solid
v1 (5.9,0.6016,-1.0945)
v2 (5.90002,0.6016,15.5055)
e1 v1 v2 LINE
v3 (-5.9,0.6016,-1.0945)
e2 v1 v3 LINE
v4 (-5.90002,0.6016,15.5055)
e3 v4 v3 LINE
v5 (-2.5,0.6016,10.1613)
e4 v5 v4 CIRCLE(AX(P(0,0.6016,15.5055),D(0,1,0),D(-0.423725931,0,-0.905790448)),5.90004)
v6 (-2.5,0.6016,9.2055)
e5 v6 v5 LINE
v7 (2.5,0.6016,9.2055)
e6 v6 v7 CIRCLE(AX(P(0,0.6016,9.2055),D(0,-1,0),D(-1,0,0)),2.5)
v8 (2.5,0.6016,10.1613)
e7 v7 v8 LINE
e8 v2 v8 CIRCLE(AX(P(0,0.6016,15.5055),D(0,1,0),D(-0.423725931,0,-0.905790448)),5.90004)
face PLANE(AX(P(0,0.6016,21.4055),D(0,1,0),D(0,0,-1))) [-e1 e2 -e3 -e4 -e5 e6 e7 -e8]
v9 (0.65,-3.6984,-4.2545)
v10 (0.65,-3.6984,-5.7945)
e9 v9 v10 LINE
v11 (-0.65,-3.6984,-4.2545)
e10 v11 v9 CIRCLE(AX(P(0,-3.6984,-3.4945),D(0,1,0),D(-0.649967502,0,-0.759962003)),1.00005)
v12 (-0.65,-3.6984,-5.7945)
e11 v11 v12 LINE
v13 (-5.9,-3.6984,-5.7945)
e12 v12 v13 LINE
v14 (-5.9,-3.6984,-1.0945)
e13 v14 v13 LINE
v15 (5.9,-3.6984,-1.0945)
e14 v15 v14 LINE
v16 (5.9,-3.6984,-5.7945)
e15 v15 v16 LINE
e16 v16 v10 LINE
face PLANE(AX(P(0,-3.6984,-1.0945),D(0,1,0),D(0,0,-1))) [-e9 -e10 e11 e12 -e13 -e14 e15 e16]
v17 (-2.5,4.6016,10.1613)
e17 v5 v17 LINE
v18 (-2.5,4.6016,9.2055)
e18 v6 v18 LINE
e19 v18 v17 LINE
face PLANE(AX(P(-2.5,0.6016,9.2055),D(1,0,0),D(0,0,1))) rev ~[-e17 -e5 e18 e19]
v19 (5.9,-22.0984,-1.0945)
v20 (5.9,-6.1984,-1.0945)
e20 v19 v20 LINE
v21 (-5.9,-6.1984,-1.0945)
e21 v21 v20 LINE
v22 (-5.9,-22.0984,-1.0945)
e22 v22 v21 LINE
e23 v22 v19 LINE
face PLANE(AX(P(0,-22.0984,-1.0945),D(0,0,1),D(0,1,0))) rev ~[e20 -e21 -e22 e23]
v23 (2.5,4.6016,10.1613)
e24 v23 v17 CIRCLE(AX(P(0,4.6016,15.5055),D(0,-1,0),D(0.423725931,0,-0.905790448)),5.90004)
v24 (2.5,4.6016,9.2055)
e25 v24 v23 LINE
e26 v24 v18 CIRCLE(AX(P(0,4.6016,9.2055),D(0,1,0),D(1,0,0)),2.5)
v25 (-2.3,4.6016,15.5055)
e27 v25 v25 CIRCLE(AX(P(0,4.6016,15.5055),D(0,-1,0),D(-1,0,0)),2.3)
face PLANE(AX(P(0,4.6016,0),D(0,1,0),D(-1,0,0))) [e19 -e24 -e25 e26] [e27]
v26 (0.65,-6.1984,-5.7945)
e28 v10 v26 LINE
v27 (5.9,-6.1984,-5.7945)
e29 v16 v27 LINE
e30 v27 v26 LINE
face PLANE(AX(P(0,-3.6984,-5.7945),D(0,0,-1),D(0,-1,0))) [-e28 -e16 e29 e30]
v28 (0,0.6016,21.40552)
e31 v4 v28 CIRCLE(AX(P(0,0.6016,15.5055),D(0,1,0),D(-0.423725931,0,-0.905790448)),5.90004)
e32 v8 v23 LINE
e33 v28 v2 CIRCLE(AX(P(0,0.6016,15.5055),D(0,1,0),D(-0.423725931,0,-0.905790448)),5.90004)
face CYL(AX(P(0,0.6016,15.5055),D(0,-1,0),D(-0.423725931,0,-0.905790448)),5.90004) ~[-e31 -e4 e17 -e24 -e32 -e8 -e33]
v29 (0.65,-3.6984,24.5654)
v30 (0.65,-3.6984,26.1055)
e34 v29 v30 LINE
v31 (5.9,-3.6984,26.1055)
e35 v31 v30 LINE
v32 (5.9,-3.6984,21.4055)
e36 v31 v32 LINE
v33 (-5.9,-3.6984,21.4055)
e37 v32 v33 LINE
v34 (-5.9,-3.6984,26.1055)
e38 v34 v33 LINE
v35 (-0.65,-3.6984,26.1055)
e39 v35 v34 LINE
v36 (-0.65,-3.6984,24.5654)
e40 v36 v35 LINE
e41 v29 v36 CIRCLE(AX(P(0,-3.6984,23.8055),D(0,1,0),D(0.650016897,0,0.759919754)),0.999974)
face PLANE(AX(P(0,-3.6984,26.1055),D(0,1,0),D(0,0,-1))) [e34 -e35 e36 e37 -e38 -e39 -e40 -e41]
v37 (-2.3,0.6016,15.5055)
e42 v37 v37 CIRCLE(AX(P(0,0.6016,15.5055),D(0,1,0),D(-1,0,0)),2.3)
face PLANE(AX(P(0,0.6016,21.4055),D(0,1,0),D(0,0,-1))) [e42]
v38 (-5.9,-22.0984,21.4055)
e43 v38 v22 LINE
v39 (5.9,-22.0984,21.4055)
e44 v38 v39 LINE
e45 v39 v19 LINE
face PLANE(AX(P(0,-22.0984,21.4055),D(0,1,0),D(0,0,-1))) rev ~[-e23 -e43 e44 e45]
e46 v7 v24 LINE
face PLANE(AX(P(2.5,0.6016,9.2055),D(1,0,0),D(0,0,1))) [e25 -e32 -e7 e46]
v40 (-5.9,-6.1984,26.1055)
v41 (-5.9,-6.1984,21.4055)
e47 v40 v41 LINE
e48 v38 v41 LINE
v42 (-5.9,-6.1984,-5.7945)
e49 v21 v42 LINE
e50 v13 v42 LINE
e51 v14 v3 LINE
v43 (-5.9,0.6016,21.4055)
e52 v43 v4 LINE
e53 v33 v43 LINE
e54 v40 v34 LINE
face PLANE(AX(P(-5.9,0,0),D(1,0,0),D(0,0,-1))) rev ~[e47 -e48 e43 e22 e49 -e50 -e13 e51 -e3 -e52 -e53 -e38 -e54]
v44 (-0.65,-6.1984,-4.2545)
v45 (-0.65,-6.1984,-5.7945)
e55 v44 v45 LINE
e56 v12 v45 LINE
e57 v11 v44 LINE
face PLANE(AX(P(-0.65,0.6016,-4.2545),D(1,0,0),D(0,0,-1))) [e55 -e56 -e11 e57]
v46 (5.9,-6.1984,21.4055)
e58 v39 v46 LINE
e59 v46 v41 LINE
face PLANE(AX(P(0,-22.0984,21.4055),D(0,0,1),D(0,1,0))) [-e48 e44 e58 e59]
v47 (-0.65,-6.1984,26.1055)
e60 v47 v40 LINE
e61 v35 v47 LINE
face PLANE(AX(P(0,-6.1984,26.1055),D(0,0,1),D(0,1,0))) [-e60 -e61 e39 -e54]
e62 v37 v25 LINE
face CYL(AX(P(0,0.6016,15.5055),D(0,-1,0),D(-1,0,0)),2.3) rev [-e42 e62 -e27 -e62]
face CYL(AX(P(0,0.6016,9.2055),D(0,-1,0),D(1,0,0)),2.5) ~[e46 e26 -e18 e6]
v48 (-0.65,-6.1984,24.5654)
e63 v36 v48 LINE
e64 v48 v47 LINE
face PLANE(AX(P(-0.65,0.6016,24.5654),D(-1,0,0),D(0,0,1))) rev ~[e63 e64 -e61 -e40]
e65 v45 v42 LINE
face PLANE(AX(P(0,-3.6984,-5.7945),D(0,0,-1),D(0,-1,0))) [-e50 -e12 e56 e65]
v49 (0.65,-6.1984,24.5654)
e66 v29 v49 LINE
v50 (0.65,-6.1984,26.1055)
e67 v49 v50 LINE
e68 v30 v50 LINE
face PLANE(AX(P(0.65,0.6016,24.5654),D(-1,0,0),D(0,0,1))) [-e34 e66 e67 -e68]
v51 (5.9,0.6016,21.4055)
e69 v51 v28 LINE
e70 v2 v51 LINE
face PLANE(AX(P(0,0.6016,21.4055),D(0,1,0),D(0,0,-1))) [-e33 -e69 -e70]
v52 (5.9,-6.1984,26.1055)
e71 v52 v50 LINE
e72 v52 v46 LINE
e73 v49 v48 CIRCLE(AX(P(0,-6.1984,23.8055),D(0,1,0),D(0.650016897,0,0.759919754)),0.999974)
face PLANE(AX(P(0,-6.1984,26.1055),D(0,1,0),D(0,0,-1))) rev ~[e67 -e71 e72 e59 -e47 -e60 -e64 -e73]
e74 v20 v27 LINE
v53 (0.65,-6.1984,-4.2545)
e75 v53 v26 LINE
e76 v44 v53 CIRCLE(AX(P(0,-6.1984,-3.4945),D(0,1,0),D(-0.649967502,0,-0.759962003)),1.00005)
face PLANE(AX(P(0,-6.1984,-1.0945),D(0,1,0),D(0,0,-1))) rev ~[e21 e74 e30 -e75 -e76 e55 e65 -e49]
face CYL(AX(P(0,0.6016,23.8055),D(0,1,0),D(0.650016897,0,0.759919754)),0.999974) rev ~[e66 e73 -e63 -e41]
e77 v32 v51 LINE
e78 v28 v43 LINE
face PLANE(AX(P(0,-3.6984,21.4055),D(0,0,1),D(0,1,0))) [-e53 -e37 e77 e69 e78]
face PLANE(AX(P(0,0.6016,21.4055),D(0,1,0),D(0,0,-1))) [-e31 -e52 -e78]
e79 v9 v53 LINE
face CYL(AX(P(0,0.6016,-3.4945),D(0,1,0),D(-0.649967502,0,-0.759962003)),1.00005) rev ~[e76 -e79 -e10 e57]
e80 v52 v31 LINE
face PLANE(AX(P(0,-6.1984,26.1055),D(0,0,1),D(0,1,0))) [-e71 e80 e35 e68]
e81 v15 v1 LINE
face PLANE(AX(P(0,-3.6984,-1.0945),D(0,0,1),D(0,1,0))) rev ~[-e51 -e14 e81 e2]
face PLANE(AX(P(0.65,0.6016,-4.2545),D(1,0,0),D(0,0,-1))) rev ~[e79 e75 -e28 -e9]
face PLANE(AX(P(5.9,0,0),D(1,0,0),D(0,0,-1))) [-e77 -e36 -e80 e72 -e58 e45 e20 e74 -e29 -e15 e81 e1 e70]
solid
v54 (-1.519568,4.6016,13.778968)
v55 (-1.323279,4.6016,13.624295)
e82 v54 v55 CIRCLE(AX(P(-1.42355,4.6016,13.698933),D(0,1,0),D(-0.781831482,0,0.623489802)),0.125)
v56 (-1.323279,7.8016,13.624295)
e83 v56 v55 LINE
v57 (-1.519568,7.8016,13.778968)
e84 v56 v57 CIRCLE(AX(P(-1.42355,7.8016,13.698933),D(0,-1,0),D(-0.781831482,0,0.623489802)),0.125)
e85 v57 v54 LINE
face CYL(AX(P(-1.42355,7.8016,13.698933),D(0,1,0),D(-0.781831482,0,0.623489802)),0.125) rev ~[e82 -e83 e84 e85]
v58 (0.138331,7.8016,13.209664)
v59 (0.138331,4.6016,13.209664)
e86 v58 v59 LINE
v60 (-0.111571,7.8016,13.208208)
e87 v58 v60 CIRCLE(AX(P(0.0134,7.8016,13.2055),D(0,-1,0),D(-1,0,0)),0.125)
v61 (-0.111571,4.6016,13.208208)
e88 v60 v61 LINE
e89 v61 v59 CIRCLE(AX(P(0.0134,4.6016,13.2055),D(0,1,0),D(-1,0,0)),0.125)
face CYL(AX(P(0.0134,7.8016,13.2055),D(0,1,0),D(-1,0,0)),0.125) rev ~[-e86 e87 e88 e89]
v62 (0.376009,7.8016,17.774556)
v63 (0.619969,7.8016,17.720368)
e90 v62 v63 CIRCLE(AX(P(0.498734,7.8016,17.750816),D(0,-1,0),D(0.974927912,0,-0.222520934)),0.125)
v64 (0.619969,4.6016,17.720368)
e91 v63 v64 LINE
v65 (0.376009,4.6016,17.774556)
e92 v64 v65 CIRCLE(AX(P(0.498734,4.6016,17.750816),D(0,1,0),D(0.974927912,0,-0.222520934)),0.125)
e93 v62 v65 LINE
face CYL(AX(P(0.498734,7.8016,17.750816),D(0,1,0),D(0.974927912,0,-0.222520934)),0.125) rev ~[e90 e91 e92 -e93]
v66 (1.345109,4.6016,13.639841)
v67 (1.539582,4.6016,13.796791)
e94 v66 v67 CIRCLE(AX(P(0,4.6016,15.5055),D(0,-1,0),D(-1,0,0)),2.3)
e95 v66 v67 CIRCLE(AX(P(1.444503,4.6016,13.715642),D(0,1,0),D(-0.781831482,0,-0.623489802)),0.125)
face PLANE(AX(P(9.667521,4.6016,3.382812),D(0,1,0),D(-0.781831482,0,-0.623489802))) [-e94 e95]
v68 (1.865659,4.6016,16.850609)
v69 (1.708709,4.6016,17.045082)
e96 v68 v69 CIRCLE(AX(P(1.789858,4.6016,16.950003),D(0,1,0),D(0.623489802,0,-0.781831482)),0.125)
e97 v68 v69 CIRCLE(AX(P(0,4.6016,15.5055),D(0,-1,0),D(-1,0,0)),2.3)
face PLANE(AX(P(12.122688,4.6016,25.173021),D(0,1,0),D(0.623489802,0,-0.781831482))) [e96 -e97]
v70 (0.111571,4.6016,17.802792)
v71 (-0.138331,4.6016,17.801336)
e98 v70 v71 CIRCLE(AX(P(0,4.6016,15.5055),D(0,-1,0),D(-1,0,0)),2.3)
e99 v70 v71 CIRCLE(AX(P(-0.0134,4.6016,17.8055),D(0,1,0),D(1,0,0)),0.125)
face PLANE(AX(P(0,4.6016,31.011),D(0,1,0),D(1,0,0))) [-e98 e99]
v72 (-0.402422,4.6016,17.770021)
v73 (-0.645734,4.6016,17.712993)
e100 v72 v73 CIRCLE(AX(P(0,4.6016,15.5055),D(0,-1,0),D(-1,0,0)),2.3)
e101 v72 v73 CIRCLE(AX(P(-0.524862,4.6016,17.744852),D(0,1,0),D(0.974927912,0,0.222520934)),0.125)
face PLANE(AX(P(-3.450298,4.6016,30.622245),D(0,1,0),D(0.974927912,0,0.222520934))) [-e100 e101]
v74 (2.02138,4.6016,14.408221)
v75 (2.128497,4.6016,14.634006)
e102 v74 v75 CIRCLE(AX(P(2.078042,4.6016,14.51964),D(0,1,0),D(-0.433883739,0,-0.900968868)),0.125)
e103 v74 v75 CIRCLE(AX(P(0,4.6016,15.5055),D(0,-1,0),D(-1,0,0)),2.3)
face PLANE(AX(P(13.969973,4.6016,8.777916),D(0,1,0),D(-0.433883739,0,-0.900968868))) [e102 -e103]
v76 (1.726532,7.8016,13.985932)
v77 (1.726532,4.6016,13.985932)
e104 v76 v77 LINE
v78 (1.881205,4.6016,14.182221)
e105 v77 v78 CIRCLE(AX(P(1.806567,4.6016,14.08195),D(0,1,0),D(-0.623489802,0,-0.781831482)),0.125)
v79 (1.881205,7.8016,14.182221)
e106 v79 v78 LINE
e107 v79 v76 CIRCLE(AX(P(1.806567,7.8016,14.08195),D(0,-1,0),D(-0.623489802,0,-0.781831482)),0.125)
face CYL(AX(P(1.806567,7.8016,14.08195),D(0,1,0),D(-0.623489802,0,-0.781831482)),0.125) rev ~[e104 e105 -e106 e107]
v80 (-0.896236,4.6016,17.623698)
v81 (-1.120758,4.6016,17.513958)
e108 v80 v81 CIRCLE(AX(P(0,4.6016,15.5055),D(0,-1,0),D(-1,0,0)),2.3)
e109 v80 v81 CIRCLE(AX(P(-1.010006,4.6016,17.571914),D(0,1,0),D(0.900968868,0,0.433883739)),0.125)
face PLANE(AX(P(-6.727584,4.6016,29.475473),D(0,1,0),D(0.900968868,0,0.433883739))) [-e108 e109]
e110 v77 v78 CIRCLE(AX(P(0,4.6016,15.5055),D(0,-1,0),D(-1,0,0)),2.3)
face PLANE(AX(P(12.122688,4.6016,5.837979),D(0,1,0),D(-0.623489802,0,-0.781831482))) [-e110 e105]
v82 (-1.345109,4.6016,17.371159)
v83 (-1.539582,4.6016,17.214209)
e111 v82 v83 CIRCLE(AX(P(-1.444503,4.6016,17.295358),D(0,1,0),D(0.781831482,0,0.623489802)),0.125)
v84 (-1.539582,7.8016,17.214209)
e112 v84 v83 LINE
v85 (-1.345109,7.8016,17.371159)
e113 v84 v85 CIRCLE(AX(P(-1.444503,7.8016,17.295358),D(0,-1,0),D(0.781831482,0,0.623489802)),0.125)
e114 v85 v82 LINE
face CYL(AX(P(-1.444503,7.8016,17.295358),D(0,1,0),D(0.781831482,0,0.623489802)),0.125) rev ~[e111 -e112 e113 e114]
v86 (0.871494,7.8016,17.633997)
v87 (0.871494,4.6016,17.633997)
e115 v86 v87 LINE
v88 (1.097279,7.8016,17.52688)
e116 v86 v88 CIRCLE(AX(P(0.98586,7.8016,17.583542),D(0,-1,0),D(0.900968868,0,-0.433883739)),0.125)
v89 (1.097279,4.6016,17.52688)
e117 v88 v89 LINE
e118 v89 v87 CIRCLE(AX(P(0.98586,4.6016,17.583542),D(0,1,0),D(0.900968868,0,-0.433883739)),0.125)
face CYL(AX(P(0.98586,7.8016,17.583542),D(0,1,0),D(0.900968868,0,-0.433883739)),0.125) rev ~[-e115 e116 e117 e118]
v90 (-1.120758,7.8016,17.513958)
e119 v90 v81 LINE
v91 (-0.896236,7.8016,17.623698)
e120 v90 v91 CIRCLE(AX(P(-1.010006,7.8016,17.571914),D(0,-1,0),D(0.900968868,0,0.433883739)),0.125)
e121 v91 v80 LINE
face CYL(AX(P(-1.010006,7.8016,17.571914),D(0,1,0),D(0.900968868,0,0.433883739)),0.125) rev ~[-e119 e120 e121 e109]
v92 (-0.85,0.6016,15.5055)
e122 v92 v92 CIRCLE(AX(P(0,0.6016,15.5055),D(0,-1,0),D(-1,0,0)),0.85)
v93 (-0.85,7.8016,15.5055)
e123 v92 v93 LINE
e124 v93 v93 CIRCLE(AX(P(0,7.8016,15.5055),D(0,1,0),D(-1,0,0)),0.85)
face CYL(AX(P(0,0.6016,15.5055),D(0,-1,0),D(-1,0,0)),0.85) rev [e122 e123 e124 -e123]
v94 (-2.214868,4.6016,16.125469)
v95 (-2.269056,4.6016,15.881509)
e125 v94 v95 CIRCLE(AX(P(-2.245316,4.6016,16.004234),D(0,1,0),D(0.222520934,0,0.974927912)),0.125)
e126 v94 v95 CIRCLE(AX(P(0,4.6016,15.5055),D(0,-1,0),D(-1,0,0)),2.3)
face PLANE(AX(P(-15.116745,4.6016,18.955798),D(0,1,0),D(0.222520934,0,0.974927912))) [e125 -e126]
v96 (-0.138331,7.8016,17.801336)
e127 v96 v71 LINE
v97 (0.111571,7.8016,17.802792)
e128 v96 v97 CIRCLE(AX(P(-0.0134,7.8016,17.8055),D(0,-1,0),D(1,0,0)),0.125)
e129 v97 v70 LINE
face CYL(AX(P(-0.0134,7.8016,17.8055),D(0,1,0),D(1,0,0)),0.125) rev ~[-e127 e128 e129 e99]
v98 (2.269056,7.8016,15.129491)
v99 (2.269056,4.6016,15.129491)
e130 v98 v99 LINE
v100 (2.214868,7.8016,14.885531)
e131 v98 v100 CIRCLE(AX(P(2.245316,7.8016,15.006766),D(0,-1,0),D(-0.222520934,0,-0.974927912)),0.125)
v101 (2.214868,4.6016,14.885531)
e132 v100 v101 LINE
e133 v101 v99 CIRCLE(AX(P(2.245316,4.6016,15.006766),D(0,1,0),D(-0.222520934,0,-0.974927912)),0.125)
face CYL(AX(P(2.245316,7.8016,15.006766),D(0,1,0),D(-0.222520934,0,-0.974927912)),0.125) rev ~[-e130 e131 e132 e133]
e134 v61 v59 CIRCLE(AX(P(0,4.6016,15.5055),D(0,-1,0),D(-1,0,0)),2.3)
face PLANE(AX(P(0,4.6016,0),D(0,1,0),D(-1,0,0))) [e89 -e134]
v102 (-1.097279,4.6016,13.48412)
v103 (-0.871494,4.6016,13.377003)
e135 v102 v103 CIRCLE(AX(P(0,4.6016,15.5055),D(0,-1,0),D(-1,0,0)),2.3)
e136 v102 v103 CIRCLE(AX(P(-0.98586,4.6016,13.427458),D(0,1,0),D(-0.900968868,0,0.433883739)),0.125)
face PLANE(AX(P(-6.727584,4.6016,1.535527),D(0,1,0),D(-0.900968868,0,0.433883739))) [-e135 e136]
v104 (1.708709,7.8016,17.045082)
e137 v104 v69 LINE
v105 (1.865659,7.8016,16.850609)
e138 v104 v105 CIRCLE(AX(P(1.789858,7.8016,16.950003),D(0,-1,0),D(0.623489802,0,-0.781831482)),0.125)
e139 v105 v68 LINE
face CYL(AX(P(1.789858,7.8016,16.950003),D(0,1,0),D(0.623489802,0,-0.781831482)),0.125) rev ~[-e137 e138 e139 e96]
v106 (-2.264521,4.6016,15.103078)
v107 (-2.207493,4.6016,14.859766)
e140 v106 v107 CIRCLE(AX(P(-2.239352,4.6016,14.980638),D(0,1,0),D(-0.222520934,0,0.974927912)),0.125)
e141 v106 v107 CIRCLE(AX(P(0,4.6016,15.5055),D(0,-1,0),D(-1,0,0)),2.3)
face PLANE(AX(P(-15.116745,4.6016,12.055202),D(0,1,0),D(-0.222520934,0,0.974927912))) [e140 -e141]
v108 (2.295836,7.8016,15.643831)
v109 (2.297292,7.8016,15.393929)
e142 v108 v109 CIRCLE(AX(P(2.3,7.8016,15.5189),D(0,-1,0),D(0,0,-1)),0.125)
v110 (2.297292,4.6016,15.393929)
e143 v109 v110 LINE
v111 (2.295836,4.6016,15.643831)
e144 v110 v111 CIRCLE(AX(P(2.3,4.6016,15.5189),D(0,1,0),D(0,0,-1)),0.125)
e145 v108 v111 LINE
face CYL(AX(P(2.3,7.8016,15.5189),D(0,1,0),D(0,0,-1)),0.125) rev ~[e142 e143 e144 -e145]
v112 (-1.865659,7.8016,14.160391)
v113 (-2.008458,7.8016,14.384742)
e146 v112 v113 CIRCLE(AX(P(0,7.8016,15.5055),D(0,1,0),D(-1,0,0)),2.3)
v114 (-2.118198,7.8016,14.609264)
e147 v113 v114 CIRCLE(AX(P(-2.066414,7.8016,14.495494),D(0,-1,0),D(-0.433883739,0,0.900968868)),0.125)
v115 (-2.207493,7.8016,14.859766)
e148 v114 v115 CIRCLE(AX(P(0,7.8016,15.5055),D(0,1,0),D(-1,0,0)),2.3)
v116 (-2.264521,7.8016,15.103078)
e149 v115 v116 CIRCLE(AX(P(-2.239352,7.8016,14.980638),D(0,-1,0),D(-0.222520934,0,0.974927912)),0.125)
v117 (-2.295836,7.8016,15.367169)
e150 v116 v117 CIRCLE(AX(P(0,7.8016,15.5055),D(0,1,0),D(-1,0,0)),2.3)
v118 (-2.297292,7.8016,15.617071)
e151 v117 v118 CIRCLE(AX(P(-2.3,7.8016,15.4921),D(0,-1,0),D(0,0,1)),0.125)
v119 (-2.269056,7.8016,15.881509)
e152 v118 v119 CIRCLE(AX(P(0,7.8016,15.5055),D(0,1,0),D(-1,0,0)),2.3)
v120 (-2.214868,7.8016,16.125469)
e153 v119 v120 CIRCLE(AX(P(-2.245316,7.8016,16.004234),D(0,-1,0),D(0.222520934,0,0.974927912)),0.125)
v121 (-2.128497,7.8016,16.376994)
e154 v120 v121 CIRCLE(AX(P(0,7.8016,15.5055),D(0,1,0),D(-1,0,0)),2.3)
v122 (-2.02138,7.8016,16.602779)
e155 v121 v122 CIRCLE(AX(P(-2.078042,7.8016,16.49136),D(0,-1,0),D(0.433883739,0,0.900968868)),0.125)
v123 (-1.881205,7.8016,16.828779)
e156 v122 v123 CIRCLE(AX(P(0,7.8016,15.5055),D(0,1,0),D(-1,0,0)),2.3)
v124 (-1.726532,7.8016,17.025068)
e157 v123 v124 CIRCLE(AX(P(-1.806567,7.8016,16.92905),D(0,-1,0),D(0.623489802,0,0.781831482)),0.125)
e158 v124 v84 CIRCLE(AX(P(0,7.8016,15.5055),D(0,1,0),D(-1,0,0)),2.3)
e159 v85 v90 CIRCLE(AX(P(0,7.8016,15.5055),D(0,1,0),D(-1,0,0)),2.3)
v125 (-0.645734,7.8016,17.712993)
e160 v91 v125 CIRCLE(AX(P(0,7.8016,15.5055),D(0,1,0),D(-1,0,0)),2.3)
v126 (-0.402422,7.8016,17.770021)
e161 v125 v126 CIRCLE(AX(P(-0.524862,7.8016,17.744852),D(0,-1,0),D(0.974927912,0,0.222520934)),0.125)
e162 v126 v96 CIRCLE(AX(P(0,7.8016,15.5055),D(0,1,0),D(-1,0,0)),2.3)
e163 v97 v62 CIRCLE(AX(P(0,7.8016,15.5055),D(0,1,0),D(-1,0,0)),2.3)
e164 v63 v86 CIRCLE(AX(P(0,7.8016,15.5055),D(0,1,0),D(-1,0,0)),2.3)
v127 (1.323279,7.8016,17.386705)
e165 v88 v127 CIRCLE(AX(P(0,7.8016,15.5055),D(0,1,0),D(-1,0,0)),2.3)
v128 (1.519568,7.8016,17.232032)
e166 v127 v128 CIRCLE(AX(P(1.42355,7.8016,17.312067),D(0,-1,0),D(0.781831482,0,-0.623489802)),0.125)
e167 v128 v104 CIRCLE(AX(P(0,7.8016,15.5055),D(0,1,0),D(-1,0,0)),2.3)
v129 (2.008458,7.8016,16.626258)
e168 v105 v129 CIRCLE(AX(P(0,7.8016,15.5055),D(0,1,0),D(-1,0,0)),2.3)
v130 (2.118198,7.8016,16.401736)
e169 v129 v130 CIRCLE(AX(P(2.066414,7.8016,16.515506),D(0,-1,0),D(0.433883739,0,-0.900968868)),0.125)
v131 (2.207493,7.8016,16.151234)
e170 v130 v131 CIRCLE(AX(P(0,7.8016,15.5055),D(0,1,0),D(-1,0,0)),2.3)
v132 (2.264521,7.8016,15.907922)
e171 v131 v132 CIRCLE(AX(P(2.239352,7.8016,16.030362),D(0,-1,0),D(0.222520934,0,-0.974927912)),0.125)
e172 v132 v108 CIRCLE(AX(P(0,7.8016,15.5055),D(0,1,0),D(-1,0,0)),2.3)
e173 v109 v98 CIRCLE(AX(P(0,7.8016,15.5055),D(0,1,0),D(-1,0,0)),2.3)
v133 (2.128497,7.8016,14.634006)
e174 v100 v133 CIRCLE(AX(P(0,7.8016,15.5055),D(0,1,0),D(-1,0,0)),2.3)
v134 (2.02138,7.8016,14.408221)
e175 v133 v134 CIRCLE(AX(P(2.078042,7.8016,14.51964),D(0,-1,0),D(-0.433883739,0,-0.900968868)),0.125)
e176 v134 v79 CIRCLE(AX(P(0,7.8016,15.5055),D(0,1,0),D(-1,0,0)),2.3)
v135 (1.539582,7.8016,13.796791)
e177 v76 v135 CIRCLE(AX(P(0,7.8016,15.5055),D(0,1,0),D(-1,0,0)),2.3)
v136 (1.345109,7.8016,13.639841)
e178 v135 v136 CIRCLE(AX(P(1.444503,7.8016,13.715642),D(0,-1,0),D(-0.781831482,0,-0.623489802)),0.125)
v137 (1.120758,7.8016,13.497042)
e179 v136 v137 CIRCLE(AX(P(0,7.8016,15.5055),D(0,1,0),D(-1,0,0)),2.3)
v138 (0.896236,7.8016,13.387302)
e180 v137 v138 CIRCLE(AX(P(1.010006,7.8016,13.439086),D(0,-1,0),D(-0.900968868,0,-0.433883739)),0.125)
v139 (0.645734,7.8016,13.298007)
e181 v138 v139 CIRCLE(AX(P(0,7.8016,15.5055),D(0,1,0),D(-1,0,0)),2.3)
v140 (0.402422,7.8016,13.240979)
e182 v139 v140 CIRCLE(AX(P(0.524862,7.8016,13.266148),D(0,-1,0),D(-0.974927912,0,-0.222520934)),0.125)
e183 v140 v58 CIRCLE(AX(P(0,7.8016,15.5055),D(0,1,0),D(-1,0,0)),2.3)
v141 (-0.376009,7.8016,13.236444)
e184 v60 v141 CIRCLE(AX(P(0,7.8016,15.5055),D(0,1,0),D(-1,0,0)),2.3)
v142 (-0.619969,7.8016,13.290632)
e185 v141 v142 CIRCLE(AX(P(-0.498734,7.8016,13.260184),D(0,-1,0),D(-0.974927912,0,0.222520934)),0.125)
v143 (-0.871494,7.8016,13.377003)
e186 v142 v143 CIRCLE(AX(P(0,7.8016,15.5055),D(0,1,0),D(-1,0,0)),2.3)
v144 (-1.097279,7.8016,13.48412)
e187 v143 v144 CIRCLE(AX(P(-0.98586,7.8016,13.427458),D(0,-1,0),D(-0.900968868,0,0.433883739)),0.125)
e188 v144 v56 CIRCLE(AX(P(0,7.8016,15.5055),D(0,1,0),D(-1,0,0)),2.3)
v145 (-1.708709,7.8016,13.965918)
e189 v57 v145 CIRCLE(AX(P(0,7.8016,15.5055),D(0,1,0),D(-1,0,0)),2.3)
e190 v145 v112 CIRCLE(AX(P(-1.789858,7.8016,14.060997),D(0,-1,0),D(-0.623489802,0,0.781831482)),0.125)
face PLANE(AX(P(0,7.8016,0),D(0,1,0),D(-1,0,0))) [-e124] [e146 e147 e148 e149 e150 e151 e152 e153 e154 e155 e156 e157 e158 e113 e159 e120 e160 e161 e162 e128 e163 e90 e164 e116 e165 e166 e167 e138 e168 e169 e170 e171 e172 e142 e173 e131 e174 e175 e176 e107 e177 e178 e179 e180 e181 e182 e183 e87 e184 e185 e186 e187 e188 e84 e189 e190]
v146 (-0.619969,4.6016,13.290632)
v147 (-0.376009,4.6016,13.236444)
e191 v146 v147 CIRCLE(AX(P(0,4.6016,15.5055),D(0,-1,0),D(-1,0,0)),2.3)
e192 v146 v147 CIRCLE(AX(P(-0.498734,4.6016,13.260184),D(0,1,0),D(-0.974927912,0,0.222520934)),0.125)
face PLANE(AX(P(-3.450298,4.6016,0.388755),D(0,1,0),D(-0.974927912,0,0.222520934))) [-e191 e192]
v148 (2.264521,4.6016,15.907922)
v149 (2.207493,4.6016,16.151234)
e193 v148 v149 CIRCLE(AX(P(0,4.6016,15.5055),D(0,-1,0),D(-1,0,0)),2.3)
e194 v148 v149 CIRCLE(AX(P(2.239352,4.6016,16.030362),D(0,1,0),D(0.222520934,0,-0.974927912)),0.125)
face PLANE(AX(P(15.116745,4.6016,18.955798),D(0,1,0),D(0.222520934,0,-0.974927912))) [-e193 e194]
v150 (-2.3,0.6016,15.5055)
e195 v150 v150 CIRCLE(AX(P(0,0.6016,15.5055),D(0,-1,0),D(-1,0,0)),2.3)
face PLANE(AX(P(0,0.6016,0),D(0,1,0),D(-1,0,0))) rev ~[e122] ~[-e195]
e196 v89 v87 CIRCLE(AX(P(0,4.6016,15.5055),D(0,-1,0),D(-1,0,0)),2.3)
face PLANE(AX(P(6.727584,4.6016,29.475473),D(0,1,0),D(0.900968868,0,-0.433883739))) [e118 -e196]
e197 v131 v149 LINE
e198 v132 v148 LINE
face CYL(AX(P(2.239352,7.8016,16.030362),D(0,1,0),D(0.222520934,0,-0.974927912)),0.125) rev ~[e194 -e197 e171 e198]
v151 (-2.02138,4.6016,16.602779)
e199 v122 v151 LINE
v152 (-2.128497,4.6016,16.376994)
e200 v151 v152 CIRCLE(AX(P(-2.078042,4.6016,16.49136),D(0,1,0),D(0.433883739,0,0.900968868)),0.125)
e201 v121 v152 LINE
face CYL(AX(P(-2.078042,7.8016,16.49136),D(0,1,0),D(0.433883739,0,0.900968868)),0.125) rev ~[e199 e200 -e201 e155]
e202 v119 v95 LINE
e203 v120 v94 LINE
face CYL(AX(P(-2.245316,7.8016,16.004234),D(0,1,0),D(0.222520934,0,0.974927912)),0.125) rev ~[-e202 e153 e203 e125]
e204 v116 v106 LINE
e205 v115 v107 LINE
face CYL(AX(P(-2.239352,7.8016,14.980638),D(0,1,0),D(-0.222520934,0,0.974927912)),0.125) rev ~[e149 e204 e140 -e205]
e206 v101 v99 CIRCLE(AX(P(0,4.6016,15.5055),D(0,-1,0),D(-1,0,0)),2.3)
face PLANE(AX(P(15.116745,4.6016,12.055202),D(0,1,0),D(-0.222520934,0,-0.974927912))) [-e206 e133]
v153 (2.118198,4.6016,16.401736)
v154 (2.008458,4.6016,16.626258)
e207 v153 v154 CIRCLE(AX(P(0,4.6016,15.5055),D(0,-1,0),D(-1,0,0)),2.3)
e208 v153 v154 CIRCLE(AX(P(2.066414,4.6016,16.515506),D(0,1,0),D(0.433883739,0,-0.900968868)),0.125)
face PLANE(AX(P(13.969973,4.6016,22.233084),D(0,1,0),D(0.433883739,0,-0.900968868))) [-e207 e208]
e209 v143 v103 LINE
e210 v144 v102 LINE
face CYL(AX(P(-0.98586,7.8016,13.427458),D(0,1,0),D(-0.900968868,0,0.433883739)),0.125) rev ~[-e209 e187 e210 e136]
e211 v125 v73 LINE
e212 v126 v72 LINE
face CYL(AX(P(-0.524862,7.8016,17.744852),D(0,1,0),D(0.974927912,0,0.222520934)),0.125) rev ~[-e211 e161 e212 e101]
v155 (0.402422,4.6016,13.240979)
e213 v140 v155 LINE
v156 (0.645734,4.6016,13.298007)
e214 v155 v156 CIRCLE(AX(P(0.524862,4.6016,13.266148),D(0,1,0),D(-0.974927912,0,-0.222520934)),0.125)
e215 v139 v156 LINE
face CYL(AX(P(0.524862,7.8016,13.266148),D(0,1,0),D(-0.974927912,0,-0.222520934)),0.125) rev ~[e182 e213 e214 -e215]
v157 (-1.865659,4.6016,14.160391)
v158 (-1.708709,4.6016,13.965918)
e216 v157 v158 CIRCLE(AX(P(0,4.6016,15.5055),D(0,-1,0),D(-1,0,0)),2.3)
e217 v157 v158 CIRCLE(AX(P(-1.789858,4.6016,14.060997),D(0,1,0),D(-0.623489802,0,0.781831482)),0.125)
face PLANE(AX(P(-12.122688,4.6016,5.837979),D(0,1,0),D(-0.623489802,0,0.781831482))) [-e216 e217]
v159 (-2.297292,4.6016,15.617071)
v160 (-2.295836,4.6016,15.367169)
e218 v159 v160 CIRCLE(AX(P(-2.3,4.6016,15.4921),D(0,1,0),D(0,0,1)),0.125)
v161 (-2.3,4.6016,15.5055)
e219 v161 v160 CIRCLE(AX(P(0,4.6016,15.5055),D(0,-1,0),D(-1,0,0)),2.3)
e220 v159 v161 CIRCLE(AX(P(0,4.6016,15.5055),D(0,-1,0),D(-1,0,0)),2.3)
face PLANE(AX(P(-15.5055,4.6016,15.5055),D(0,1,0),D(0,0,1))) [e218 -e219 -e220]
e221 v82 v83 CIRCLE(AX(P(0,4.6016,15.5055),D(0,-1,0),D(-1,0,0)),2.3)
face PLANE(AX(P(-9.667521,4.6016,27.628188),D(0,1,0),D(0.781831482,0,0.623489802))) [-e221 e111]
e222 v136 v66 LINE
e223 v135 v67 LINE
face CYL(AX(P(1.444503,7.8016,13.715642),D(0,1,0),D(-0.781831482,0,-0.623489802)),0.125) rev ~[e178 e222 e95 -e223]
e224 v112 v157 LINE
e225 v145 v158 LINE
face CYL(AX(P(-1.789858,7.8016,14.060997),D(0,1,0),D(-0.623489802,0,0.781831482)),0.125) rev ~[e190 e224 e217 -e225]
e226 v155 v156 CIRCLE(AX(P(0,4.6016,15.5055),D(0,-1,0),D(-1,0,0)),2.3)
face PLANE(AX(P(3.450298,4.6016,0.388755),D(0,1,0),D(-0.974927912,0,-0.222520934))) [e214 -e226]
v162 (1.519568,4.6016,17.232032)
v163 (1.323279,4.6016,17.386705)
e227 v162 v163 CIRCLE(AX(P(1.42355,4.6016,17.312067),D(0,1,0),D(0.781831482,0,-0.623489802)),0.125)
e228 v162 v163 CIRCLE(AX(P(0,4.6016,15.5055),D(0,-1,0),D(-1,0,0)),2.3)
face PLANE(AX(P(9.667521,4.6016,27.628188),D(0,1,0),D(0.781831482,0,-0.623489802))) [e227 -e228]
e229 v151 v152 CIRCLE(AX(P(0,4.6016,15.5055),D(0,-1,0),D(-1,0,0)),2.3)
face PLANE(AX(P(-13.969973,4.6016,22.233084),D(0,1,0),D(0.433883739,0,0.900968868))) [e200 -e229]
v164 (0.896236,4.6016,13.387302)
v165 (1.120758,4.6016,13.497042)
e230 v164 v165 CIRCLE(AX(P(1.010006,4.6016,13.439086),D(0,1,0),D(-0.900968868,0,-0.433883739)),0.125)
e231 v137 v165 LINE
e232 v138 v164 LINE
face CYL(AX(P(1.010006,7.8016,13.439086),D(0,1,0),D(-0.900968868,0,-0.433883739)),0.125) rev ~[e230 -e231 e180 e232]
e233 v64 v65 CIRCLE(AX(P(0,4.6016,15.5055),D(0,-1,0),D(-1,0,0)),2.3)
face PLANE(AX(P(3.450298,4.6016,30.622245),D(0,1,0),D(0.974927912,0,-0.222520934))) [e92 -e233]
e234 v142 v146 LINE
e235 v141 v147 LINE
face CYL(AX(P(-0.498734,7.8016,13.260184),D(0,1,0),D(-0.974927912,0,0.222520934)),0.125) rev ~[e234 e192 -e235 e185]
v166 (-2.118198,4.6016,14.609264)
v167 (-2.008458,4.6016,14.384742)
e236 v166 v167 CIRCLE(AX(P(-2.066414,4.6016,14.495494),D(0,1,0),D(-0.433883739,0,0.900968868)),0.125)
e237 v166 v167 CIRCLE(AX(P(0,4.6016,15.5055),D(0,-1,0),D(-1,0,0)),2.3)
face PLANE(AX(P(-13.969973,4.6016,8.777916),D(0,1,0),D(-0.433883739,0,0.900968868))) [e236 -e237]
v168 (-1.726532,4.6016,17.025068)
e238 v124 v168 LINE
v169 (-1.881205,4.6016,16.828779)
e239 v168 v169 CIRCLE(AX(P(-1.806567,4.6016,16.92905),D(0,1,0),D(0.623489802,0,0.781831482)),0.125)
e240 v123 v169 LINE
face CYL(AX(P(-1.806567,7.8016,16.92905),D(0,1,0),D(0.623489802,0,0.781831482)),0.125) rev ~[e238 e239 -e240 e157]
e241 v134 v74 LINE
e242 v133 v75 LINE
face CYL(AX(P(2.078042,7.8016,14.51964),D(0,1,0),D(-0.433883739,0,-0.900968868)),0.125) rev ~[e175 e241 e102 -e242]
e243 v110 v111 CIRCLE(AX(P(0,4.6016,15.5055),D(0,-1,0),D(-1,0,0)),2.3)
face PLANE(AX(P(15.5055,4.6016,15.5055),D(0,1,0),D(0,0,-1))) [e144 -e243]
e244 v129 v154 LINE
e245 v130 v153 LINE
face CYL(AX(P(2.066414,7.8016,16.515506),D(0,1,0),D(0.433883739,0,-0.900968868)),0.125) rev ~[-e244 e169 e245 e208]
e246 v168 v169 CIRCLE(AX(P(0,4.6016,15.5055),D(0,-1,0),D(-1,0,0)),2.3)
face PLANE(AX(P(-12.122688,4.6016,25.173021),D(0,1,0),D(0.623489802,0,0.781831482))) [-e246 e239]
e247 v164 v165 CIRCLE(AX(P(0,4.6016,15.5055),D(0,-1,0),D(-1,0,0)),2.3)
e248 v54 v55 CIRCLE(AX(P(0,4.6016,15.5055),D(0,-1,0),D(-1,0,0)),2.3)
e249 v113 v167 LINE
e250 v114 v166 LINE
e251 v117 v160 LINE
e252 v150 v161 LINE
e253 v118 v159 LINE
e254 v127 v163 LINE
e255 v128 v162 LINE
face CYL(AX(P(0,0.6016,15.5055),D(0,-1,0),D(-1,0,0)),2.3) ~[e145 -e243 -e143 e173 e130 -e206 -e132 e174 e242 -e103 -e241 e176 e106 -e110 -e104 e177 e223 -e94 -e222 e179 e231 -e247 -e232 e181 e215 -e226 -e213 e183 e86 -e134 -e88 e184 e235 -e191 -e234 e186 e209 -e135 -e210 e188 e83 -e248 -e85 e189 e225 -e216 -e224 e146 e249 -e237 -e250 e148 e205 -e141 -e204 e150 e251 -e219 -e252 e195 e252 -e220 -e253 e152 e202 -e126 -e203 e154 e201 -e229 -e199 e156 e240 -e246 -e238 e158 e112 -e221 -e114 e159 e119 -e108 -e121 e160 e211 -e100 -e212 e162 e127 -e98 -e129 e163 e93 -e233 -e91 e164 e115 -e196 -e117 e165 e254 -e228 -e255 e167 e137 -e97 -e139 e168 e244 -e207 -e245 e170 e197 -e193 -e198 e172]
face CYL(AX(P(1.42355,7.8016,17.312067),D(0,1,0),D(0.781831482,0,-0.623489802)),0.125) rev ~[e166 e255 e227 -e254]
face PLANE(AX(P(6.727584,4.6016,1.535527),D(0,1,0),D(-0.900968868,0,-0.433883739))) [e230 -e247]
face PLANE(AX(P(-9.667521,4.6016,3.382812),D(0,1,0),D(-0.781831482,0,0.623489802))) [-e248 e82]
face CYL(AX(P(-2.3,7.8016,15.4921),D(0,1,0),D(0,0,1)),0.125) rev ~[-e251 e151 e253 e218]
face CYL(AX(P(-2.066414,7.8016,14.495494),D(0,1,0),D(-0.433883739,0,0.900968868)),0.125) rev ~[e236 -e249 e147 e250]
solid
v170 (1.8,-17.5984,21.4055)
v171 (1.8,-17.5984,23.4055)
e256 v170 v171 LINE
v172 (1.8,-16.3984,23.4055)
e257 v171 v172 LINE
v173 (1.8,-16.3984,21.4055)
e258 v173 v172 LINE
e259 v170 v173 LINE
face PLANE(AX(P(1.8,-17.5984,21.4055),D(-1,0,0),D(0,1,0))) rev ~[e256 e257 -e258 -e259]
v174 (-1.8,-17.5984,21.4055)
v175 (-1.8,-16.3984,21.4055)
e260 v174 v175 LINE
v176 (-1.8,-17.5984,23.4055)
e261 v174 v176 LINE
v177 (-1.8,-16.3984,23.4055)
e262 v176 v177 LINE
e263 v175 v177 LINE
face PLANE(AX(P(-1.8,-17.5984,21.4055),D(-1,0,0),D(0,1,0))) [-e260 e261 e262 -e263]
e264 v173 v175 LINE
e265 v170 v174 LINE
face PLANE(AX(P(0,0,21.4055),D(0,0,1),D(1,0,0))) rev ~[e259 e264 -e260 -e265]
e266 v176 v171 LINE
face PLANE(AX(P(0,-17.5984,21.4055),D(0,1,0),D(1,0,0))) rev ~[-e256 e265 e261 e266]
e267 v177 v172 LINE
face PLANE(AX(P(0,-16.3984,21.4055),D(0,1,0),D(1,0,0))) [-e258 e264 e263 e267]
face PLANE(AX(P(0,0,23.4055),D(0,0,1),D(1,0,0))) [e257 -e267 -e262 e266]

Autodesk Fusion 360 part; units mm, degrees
sketch "Left" plane through (0, 0, 0) normal (1, 0, 0) x (0, 0, -1)
  line L0 (-21.4055, -22.0984) -> (1.0945, -22.0984)
  line L1 (-21.4055, 4.6016) -> (1.0945, 4.6016)
  line L2 (-21.4055, 0.6016) -> (1.0945, 0.6016)
  line L3 (-21.4055, 0.6016) -> (-21.4055, 4.6016)
  line L4 (5.7945, -22.0984) -> (5.7945, -6.1984)
  line L5 (-26.1055, -6.1984) -> (-26.1055, -3.6984)
  line L6 (-26.1055, -3.6984) -> (-21.4055, -3.6984)
  line L7 (1.0945, -3.6984) -> (5.7945, -3.6984)
  line L8 (-26.1055, -6.1984) -> (-21.4055, -6.1984)
  line L9 (1.0945, -6.1984) -> (5.7945, -6.1984)
  line L10 (1.0945, -22.0984) -> (1.0945, -6.1984)
  line L11 (1.0945, -3.6984) -> (1.0945, 0.6016)
  line L12 (-21.4055, -22.0984) -> (-21.4055, -6.1984)
  line L13 (-21.4055, -3.6984) -> (-21.4055, 0.6016)
  line L14 (-15.5055, 0.6016) -> (-15.5055, 13)
  line L15 (-6.7055, 0.6016) -> (-6.7055, 13)
  line L16 (1.0945, -22.0984) -> (1.0945, -6.1984)
  line L17 (1.0945, -3.6984) -> (1.0945, 13)
  line L18 (5.7945, -3.6984) -> (5.7945, -6.1984)
  dimension "d1" = 22.5
  dimension "d2" = 26.7
  dimension "d3" = 22.7
  dimension "d4" = 4
  dimension "d5" = 22.7
  dimension "d13" = 5.9
extrude "Extrude1" add sketch "Left" along normal mid plane 11.8 contours L0 L2 L5 L6 L7 L8 L9 L10 L11 L12 L13 L16 L17 L18 makes body 1
sketch "TOP" plane through (0, 0.6016, 0) normal (0, 1, 0) x (-1, 0, 0)
  line L0 (5.9, 21.4055) -> (-5.9, 21.4055)
  line L1 (-5.9, 21.4055) -> (-5.9, -1.0945)
  line L2 (-5.9, -1.0945) -> (5.9, -1.0945)
  line L3 (5.9, -1.0945) -> (5.9, 21.4055)
  circle A0 centre (0, 15.5055) radius 2.3
  circle A1 centre (0, 15.5055) radius 0.85
  line L4 (0, -1.0945) -> (0, 27)
  line L5 (0, 27) -> (0, -1.0945)
  arc A2 (-2.5, 9.2055) -> (2.5, 9.2055) centre (0, 9.2055) ccw
  line L6 (-2.5, 9.2055) -> (-2.5, 10.1613)
  line L7 (2.5, 9.2055) -> (2.5, 10.1613)
  arc A3 (2.5, 10.1613) -> (-2.5, 10.1613) centre (0, 15.5055) ccw
  line L8 (5.9, -5.7945) -> (-5.9, -5.7945)
  line L9 (-0.65, -4.2545) -> (-0.65, -5.7945)
  line L10 (0.65, -4.2545) -> (0.65, -5.7945)
  arc A4 (0.65, -4.2545) -> (-0.65, -4.2545) centre (0, -3.4945) ccw
  line L11 (5.9, 26.1055) -> (-5.9, 26.1055)
  arc A5 (-0.65, 24.5654) -> (0.65, 24.5654) centre (0, 23.8055) ccw
  line L12 (0.65, 24.5654) -> (0.65, 26.1055)
  line L13 (-0.65, 24.5654) -> (-0.65, 26.1055)
  point P0 (0, 15.5055)
  point P1 (0, 6.7055)
  point P2 (0, -1.0945)
  point P3 (5.9, -5.7945)
  point P4 (-5.9, -5.7945)
  point P5 (0, -5.7945)
  point P6 (5.9, 26.1055)
  point P7 (-5.9, 26.1055)
  point P8 (0, 26.1055)
  point P9 (0, 21.4055)
  dimension "d16" = 4.6
  dimension "d17" = 1.7
  dimension "d18" = 11.8
  dimension "d27" = 2
  dimension "d31" = 2
extrude "Extrude2" add sketch "TOP" along normal blind 4 contours A0 L4 L5 A2 L7 A3 | A0 L4 L5 A2 L6 A3 bodies 1
extrude "Extrude3" add sketch "TOP" along normal blind 7.2 separate body contours A0 A1 L4 L5 | A0 A1 L4 L5 makes body 2
extrude "Extrude4" cut sketch "TOP" against normal through all contours L4 L5 L11 A5 L13 | L4 L5 L11 A5 L12 bodies 1
extrude "Extrude5" cut sketch "TOP" against normal through all contours L8 L9 L10 A4 bodies 1
sketch "Front" plane through (0, 0, 21.4055) normal (0, 0, 1) x (1, 0, 0)
  line L0 (-5.9, -22.0984) -> (5.9, -22.0984)
  line L1 (5.9, -22.0984) -> (5.9, -6.1984)
  line L2 (5.9, -6.1984) -> (-5.9, -6.1984)
  line L3 (-5.9, -6.1984) -> (-5.9, -22.0984)
  line L4 (-1.8, -17.5984) -> (1.8, -17.5984)
  line L5 (0, -22.0984) -> (0, -6.1984)
  line L6 (1.8, -17.5984) -> (1.8, -16.3984)
  line L7 (-1.8, -17.5984) -> (-1.8, -16.3984)
  line L8 (-1.8, -16.3984) -> (1.8, -16.3984)
extrude "Extrude6" add sketch "Front" along normal blind 2 separate body contours L4 L5 L6 L8 | L4 L5 L7 L8 makes body 3
copy_body "Body->Comp1" bodies 3 removing the originals makes body 4 in component "Prikljiček"
copy_body "Body->Comp2" bodies 2 removing the originals makes body 5 in component "OSovina"
copy_body "Body->Comp3" bodies 1 removing the originals makes body 6 in component "Ohisje"
sketch "Sketch1" plane through (0, 7.8016, 0) normal (0, 1, 0) x (-1, 0, 0) in component "OSovina"
  circle A0 centre (0, 15.5055) radius 0.85
  circle A1 centre (0, 15.5055) radius 2.3
  circle A2 centre (0, 15.5055) radius 2.3
  circle A3 centre (-0.0134, 13.2055) radius 0.125
  circle A4 centre (0, 15.5055) radius 0.85
  dimension "d42" = 0.25
extrude "Extrude1'" cut sketch "Sketch1" against normal up to surface (3.2 mm away) contours A1 A2 A3 | A1 A2 A3 picked at (-0.0101, 13.2473) picked at (-0.0141, 13.1641) bodies 5 in component "OSovina"
pattern_circular "C-Pattern1" count 28 over 360 about axis through (0, 15.4797, 15.5055) along (0, -1, 0) of "Extrude1'" in component "OSovina"
sketch "Sketch5" plane through (0, 7.8016, 0) normal (0, 1, 0) x (-1, 0, 0)
  arc A0 (0.62, 13.2906) -> (0.376, 13.2364) centre (0.4987, 13.2602) ccw
  arc A1 (0.62, 13.2906) -> (0.8715, 13.377) centre (0, 15.5055) ccw
  arc A2 (1.0973, 13.4841) -> (0.8715, 13.377) centre (0.9858, 13.4275) ccw
  arc A3 (1.0973, 13.4841) -> (1.3233, 13.6243) centre (0, 15.5055) ccw
  arc A4 (1.5196, 13.7789) -> (1.3233, 13.6243) centre (1.4235, 13.6989) ccw
  arc A5 (1.5196, 13.7789) -> (1.7087, 13.9659) centre (0, 15.5055) ccw
  arc A6 (1.8656, 14.1604) -> (1.7087, 13.9659) centre (1.7898, 14.061) ccw
  arc A7 (1.8656, 14.1604) -> (2.0084, 14.3847) centre (0, 15.5055) ccw
  arc A8 (2.1182, 14.6092) -> (2.0084, 14.3847) centre (2.0664, 14.4955) ccw
  arc A9 (2.1182, 14.6092) -> (2.2075, 14.8597) centre (0, 15.5055) ccw
  arc A10 (2.2645, 15.103) -> (2.2075, 14.8597) centre (2.2393, 14.9806) ccw
  arc A11 (2.2645, 15.103) -> (2.2958, 15.3671) centre (0, 15.5055) ccw
  arc A12 (2.2973, 15.617) -> (2.2958, 15.3671) centre (2.3, 15.4921) ccw
  arc A13 (2.2973, 15.617) -> (2.2691, 15.8815) centre (0, 15.5055) ccw
  arc A14 (2.2149, 16.1254) -> (2.2691, 15.8815) centre (2.2453, 16.0042) ccw
  arc A15 (2.2149, 16.1254) -> (2.1285, 16.377) centre (0, 15.5055) ccw
  arc A16 (2.0214, 16.6027) -> (2.1285, 16.377) centre (2.078, 16.4913) ccw
  arc A17 (2.0214, 16.6027) -> (1.8812, 16.8287) centre (0, 15.5055) ccw
  arc A18 (1.7265, 17.025) -> (1.8812, 16.8287) centre (1.8065, 16.929) ccw
  arc A19 (1.7265, 17.025) -> (1.5396, 17.2142) centre (0, 15.5055) ccw
  arc A20 (1.3451, 17.3711) -> (1.5396, 17.2142) centre (1.4445, 17.2953) ccw
  arc A21 (1.3451, 17.3711) -> (1.1208, 17.5139) centre (0, 15.5055) ccw
  arc A22 (0.8963, 17.6237) -> (1.1208, 17.5139) centre (1.01, 17.5719) ccw
  arc A23 (0.8963, 17.6237) -> (0.6458, 17.713) centre (0, 15.5055) ccw
  arc A24 (0.4024, 17.77) -> (0.6458, 17.713) centre (0.5249, 17.7448) ccw
  arc A25 (0.4024, 17.77) -> (0.1383, 17.8013) centre (0, 15.5055) ccw
  arc A26 (-0.1116, 17.8028) -> (0.1383, 17.8013) centre (0.0134, 17.8054) ccw
  arc A27 (-0.1116, 17.8028) -> (-0.376, 17.7745) centre (0, 15.5055) ccw
  arc A28 (-0.62, 17.7204) -> (-0.376, 17.7745) centre (-0.4987, 17.7508) ccw
  arc A29 (-0.62, 17.7204) -> (-0.8715, 17.634) centre (0, 15.5055) ccw
  arc A30 (-1.0973, 17.5269) -> (-0.8715, 17.634) centre (-0.9858, 17.5835) ccw
  arc A31 (-1.0973, 17.5269) -> (-1.3233, 17.3867) centre (0, 15.5055) ccw
  arc A32 (-1.5196, 17.232) -> (-1.3233, 17.3867) centre (-1.4235, 17.312) ccw
  arc A33 (-1.5196, 17.232) -> (-1.7087, 17.0451) centre (0, 15.5055) ccw
  arc A34 (-1.8656, 16.8506) -> (-1.7087, 17.0451) centre (-1.7898, 16.95) ccw
  arc A35 (-1.8656, 16.8506) -> (-2.0084, 16.6263) centre (0, 15.5055) ccw
  arc A36 (-2.1182, 16.4017) -> (-2.0084, 16.6263) centre (-2.0664, 16.5155) ccw
  arc A37 (-2.1182, 16.4017) -> (-2.2075, 16.1512) centre (0, 15.5055) ccw
  arc A38 (-2.2645, 15.9079) -> (-2.2075, 16.1512) centre (-2.2393, 16.0304) ccw
  arc A39 (-2.2645, 15.9079) -> (-2.2958, 15.6438) centre (0, 15.5055) ccw
  arc A40 (-2.2973, 15.3939) -> (-2.2958, 15.6438) centre (-2.3, 15.5189) ccw
  arc A41 (-2.2973, 15.3939) -> (-2.2691, 15.1295) centre (0, 15.5055) ccw
  arc A42 (-2.2149, 14.8855) -> (-2.2691, 15.1295) centre (-2.2453, 15.0068) ccw
  arc A43 (-2.2149, 14.8855) -> (-2.1285, 14.634) centre (0, 15.5055) ccw
  arc A44 (-2.0214, 14.4082) -> (-2.1285, 14.634) centre (-2.078, 14.5197) ccw
  arc A45 (-2.0214, 14.4082) -> (-1.8812, 14.1822) centre (0, 15.5055) ccw
  arc A46 (-1.7265, 13.9859) -> (-1.8812, 14.1822) centre (-1.8065, 14.082) ccw
  arc A47 (-1.7265, 13.9859) -> (-1.5396, 13.7968) centre (0, 15.5055) ccw
  arc A48 (-1.3451, 13.6398) -> (-1.5396, 13.7968) centre (-1.4445, 13.7157) ccw
  arc A49 (-1.3451, 13.6398) -> (-1.1208, 13.497) centre (0, 15.5055) ccw
  arc A50 (-0.8963, 13.3873) -> (-1.1208, 13.497) centre (-1.01, 13.4391) ccw
  arc A51 (-0.8963, 13.3873) -> (-0.6458, 13.298) centre (0, 15.5055) ccw
  arc A52 (-0.4024, 13.241) -> (-0.6458, 13.298) centre (-0.5249, 13.2662) ccw
  arc A53 (-0.4024, 13.241) -> (-0.1383, 13.2096) centre (0, 15.5055) ccw
  arc A54 (0.1116, 13.2082) -> (-0.1383, 13.2096) centre (-0.0134, 13.2055) ccw
  arc A55 (0.1116, 13.2082) -> (0.376, 13.2364) centre (0, 15.5055) ccw
  circle A56 centre (0, 15.5055) radius 0.85
component "Prikljiček" placed x (1, 0, 0) y (0, 1, 0) z (0, 0, 1) at (0, 0, 0)
component "OSovina" placed x (1, 0, 0) y (0, 1, 0) z (0, 0, 1) at (0, 0, 0)
component "Ohisje" placed x (1, 0, 0) y (0, 1, 0) z (0, 0, 1) at (0, 0, 0)
